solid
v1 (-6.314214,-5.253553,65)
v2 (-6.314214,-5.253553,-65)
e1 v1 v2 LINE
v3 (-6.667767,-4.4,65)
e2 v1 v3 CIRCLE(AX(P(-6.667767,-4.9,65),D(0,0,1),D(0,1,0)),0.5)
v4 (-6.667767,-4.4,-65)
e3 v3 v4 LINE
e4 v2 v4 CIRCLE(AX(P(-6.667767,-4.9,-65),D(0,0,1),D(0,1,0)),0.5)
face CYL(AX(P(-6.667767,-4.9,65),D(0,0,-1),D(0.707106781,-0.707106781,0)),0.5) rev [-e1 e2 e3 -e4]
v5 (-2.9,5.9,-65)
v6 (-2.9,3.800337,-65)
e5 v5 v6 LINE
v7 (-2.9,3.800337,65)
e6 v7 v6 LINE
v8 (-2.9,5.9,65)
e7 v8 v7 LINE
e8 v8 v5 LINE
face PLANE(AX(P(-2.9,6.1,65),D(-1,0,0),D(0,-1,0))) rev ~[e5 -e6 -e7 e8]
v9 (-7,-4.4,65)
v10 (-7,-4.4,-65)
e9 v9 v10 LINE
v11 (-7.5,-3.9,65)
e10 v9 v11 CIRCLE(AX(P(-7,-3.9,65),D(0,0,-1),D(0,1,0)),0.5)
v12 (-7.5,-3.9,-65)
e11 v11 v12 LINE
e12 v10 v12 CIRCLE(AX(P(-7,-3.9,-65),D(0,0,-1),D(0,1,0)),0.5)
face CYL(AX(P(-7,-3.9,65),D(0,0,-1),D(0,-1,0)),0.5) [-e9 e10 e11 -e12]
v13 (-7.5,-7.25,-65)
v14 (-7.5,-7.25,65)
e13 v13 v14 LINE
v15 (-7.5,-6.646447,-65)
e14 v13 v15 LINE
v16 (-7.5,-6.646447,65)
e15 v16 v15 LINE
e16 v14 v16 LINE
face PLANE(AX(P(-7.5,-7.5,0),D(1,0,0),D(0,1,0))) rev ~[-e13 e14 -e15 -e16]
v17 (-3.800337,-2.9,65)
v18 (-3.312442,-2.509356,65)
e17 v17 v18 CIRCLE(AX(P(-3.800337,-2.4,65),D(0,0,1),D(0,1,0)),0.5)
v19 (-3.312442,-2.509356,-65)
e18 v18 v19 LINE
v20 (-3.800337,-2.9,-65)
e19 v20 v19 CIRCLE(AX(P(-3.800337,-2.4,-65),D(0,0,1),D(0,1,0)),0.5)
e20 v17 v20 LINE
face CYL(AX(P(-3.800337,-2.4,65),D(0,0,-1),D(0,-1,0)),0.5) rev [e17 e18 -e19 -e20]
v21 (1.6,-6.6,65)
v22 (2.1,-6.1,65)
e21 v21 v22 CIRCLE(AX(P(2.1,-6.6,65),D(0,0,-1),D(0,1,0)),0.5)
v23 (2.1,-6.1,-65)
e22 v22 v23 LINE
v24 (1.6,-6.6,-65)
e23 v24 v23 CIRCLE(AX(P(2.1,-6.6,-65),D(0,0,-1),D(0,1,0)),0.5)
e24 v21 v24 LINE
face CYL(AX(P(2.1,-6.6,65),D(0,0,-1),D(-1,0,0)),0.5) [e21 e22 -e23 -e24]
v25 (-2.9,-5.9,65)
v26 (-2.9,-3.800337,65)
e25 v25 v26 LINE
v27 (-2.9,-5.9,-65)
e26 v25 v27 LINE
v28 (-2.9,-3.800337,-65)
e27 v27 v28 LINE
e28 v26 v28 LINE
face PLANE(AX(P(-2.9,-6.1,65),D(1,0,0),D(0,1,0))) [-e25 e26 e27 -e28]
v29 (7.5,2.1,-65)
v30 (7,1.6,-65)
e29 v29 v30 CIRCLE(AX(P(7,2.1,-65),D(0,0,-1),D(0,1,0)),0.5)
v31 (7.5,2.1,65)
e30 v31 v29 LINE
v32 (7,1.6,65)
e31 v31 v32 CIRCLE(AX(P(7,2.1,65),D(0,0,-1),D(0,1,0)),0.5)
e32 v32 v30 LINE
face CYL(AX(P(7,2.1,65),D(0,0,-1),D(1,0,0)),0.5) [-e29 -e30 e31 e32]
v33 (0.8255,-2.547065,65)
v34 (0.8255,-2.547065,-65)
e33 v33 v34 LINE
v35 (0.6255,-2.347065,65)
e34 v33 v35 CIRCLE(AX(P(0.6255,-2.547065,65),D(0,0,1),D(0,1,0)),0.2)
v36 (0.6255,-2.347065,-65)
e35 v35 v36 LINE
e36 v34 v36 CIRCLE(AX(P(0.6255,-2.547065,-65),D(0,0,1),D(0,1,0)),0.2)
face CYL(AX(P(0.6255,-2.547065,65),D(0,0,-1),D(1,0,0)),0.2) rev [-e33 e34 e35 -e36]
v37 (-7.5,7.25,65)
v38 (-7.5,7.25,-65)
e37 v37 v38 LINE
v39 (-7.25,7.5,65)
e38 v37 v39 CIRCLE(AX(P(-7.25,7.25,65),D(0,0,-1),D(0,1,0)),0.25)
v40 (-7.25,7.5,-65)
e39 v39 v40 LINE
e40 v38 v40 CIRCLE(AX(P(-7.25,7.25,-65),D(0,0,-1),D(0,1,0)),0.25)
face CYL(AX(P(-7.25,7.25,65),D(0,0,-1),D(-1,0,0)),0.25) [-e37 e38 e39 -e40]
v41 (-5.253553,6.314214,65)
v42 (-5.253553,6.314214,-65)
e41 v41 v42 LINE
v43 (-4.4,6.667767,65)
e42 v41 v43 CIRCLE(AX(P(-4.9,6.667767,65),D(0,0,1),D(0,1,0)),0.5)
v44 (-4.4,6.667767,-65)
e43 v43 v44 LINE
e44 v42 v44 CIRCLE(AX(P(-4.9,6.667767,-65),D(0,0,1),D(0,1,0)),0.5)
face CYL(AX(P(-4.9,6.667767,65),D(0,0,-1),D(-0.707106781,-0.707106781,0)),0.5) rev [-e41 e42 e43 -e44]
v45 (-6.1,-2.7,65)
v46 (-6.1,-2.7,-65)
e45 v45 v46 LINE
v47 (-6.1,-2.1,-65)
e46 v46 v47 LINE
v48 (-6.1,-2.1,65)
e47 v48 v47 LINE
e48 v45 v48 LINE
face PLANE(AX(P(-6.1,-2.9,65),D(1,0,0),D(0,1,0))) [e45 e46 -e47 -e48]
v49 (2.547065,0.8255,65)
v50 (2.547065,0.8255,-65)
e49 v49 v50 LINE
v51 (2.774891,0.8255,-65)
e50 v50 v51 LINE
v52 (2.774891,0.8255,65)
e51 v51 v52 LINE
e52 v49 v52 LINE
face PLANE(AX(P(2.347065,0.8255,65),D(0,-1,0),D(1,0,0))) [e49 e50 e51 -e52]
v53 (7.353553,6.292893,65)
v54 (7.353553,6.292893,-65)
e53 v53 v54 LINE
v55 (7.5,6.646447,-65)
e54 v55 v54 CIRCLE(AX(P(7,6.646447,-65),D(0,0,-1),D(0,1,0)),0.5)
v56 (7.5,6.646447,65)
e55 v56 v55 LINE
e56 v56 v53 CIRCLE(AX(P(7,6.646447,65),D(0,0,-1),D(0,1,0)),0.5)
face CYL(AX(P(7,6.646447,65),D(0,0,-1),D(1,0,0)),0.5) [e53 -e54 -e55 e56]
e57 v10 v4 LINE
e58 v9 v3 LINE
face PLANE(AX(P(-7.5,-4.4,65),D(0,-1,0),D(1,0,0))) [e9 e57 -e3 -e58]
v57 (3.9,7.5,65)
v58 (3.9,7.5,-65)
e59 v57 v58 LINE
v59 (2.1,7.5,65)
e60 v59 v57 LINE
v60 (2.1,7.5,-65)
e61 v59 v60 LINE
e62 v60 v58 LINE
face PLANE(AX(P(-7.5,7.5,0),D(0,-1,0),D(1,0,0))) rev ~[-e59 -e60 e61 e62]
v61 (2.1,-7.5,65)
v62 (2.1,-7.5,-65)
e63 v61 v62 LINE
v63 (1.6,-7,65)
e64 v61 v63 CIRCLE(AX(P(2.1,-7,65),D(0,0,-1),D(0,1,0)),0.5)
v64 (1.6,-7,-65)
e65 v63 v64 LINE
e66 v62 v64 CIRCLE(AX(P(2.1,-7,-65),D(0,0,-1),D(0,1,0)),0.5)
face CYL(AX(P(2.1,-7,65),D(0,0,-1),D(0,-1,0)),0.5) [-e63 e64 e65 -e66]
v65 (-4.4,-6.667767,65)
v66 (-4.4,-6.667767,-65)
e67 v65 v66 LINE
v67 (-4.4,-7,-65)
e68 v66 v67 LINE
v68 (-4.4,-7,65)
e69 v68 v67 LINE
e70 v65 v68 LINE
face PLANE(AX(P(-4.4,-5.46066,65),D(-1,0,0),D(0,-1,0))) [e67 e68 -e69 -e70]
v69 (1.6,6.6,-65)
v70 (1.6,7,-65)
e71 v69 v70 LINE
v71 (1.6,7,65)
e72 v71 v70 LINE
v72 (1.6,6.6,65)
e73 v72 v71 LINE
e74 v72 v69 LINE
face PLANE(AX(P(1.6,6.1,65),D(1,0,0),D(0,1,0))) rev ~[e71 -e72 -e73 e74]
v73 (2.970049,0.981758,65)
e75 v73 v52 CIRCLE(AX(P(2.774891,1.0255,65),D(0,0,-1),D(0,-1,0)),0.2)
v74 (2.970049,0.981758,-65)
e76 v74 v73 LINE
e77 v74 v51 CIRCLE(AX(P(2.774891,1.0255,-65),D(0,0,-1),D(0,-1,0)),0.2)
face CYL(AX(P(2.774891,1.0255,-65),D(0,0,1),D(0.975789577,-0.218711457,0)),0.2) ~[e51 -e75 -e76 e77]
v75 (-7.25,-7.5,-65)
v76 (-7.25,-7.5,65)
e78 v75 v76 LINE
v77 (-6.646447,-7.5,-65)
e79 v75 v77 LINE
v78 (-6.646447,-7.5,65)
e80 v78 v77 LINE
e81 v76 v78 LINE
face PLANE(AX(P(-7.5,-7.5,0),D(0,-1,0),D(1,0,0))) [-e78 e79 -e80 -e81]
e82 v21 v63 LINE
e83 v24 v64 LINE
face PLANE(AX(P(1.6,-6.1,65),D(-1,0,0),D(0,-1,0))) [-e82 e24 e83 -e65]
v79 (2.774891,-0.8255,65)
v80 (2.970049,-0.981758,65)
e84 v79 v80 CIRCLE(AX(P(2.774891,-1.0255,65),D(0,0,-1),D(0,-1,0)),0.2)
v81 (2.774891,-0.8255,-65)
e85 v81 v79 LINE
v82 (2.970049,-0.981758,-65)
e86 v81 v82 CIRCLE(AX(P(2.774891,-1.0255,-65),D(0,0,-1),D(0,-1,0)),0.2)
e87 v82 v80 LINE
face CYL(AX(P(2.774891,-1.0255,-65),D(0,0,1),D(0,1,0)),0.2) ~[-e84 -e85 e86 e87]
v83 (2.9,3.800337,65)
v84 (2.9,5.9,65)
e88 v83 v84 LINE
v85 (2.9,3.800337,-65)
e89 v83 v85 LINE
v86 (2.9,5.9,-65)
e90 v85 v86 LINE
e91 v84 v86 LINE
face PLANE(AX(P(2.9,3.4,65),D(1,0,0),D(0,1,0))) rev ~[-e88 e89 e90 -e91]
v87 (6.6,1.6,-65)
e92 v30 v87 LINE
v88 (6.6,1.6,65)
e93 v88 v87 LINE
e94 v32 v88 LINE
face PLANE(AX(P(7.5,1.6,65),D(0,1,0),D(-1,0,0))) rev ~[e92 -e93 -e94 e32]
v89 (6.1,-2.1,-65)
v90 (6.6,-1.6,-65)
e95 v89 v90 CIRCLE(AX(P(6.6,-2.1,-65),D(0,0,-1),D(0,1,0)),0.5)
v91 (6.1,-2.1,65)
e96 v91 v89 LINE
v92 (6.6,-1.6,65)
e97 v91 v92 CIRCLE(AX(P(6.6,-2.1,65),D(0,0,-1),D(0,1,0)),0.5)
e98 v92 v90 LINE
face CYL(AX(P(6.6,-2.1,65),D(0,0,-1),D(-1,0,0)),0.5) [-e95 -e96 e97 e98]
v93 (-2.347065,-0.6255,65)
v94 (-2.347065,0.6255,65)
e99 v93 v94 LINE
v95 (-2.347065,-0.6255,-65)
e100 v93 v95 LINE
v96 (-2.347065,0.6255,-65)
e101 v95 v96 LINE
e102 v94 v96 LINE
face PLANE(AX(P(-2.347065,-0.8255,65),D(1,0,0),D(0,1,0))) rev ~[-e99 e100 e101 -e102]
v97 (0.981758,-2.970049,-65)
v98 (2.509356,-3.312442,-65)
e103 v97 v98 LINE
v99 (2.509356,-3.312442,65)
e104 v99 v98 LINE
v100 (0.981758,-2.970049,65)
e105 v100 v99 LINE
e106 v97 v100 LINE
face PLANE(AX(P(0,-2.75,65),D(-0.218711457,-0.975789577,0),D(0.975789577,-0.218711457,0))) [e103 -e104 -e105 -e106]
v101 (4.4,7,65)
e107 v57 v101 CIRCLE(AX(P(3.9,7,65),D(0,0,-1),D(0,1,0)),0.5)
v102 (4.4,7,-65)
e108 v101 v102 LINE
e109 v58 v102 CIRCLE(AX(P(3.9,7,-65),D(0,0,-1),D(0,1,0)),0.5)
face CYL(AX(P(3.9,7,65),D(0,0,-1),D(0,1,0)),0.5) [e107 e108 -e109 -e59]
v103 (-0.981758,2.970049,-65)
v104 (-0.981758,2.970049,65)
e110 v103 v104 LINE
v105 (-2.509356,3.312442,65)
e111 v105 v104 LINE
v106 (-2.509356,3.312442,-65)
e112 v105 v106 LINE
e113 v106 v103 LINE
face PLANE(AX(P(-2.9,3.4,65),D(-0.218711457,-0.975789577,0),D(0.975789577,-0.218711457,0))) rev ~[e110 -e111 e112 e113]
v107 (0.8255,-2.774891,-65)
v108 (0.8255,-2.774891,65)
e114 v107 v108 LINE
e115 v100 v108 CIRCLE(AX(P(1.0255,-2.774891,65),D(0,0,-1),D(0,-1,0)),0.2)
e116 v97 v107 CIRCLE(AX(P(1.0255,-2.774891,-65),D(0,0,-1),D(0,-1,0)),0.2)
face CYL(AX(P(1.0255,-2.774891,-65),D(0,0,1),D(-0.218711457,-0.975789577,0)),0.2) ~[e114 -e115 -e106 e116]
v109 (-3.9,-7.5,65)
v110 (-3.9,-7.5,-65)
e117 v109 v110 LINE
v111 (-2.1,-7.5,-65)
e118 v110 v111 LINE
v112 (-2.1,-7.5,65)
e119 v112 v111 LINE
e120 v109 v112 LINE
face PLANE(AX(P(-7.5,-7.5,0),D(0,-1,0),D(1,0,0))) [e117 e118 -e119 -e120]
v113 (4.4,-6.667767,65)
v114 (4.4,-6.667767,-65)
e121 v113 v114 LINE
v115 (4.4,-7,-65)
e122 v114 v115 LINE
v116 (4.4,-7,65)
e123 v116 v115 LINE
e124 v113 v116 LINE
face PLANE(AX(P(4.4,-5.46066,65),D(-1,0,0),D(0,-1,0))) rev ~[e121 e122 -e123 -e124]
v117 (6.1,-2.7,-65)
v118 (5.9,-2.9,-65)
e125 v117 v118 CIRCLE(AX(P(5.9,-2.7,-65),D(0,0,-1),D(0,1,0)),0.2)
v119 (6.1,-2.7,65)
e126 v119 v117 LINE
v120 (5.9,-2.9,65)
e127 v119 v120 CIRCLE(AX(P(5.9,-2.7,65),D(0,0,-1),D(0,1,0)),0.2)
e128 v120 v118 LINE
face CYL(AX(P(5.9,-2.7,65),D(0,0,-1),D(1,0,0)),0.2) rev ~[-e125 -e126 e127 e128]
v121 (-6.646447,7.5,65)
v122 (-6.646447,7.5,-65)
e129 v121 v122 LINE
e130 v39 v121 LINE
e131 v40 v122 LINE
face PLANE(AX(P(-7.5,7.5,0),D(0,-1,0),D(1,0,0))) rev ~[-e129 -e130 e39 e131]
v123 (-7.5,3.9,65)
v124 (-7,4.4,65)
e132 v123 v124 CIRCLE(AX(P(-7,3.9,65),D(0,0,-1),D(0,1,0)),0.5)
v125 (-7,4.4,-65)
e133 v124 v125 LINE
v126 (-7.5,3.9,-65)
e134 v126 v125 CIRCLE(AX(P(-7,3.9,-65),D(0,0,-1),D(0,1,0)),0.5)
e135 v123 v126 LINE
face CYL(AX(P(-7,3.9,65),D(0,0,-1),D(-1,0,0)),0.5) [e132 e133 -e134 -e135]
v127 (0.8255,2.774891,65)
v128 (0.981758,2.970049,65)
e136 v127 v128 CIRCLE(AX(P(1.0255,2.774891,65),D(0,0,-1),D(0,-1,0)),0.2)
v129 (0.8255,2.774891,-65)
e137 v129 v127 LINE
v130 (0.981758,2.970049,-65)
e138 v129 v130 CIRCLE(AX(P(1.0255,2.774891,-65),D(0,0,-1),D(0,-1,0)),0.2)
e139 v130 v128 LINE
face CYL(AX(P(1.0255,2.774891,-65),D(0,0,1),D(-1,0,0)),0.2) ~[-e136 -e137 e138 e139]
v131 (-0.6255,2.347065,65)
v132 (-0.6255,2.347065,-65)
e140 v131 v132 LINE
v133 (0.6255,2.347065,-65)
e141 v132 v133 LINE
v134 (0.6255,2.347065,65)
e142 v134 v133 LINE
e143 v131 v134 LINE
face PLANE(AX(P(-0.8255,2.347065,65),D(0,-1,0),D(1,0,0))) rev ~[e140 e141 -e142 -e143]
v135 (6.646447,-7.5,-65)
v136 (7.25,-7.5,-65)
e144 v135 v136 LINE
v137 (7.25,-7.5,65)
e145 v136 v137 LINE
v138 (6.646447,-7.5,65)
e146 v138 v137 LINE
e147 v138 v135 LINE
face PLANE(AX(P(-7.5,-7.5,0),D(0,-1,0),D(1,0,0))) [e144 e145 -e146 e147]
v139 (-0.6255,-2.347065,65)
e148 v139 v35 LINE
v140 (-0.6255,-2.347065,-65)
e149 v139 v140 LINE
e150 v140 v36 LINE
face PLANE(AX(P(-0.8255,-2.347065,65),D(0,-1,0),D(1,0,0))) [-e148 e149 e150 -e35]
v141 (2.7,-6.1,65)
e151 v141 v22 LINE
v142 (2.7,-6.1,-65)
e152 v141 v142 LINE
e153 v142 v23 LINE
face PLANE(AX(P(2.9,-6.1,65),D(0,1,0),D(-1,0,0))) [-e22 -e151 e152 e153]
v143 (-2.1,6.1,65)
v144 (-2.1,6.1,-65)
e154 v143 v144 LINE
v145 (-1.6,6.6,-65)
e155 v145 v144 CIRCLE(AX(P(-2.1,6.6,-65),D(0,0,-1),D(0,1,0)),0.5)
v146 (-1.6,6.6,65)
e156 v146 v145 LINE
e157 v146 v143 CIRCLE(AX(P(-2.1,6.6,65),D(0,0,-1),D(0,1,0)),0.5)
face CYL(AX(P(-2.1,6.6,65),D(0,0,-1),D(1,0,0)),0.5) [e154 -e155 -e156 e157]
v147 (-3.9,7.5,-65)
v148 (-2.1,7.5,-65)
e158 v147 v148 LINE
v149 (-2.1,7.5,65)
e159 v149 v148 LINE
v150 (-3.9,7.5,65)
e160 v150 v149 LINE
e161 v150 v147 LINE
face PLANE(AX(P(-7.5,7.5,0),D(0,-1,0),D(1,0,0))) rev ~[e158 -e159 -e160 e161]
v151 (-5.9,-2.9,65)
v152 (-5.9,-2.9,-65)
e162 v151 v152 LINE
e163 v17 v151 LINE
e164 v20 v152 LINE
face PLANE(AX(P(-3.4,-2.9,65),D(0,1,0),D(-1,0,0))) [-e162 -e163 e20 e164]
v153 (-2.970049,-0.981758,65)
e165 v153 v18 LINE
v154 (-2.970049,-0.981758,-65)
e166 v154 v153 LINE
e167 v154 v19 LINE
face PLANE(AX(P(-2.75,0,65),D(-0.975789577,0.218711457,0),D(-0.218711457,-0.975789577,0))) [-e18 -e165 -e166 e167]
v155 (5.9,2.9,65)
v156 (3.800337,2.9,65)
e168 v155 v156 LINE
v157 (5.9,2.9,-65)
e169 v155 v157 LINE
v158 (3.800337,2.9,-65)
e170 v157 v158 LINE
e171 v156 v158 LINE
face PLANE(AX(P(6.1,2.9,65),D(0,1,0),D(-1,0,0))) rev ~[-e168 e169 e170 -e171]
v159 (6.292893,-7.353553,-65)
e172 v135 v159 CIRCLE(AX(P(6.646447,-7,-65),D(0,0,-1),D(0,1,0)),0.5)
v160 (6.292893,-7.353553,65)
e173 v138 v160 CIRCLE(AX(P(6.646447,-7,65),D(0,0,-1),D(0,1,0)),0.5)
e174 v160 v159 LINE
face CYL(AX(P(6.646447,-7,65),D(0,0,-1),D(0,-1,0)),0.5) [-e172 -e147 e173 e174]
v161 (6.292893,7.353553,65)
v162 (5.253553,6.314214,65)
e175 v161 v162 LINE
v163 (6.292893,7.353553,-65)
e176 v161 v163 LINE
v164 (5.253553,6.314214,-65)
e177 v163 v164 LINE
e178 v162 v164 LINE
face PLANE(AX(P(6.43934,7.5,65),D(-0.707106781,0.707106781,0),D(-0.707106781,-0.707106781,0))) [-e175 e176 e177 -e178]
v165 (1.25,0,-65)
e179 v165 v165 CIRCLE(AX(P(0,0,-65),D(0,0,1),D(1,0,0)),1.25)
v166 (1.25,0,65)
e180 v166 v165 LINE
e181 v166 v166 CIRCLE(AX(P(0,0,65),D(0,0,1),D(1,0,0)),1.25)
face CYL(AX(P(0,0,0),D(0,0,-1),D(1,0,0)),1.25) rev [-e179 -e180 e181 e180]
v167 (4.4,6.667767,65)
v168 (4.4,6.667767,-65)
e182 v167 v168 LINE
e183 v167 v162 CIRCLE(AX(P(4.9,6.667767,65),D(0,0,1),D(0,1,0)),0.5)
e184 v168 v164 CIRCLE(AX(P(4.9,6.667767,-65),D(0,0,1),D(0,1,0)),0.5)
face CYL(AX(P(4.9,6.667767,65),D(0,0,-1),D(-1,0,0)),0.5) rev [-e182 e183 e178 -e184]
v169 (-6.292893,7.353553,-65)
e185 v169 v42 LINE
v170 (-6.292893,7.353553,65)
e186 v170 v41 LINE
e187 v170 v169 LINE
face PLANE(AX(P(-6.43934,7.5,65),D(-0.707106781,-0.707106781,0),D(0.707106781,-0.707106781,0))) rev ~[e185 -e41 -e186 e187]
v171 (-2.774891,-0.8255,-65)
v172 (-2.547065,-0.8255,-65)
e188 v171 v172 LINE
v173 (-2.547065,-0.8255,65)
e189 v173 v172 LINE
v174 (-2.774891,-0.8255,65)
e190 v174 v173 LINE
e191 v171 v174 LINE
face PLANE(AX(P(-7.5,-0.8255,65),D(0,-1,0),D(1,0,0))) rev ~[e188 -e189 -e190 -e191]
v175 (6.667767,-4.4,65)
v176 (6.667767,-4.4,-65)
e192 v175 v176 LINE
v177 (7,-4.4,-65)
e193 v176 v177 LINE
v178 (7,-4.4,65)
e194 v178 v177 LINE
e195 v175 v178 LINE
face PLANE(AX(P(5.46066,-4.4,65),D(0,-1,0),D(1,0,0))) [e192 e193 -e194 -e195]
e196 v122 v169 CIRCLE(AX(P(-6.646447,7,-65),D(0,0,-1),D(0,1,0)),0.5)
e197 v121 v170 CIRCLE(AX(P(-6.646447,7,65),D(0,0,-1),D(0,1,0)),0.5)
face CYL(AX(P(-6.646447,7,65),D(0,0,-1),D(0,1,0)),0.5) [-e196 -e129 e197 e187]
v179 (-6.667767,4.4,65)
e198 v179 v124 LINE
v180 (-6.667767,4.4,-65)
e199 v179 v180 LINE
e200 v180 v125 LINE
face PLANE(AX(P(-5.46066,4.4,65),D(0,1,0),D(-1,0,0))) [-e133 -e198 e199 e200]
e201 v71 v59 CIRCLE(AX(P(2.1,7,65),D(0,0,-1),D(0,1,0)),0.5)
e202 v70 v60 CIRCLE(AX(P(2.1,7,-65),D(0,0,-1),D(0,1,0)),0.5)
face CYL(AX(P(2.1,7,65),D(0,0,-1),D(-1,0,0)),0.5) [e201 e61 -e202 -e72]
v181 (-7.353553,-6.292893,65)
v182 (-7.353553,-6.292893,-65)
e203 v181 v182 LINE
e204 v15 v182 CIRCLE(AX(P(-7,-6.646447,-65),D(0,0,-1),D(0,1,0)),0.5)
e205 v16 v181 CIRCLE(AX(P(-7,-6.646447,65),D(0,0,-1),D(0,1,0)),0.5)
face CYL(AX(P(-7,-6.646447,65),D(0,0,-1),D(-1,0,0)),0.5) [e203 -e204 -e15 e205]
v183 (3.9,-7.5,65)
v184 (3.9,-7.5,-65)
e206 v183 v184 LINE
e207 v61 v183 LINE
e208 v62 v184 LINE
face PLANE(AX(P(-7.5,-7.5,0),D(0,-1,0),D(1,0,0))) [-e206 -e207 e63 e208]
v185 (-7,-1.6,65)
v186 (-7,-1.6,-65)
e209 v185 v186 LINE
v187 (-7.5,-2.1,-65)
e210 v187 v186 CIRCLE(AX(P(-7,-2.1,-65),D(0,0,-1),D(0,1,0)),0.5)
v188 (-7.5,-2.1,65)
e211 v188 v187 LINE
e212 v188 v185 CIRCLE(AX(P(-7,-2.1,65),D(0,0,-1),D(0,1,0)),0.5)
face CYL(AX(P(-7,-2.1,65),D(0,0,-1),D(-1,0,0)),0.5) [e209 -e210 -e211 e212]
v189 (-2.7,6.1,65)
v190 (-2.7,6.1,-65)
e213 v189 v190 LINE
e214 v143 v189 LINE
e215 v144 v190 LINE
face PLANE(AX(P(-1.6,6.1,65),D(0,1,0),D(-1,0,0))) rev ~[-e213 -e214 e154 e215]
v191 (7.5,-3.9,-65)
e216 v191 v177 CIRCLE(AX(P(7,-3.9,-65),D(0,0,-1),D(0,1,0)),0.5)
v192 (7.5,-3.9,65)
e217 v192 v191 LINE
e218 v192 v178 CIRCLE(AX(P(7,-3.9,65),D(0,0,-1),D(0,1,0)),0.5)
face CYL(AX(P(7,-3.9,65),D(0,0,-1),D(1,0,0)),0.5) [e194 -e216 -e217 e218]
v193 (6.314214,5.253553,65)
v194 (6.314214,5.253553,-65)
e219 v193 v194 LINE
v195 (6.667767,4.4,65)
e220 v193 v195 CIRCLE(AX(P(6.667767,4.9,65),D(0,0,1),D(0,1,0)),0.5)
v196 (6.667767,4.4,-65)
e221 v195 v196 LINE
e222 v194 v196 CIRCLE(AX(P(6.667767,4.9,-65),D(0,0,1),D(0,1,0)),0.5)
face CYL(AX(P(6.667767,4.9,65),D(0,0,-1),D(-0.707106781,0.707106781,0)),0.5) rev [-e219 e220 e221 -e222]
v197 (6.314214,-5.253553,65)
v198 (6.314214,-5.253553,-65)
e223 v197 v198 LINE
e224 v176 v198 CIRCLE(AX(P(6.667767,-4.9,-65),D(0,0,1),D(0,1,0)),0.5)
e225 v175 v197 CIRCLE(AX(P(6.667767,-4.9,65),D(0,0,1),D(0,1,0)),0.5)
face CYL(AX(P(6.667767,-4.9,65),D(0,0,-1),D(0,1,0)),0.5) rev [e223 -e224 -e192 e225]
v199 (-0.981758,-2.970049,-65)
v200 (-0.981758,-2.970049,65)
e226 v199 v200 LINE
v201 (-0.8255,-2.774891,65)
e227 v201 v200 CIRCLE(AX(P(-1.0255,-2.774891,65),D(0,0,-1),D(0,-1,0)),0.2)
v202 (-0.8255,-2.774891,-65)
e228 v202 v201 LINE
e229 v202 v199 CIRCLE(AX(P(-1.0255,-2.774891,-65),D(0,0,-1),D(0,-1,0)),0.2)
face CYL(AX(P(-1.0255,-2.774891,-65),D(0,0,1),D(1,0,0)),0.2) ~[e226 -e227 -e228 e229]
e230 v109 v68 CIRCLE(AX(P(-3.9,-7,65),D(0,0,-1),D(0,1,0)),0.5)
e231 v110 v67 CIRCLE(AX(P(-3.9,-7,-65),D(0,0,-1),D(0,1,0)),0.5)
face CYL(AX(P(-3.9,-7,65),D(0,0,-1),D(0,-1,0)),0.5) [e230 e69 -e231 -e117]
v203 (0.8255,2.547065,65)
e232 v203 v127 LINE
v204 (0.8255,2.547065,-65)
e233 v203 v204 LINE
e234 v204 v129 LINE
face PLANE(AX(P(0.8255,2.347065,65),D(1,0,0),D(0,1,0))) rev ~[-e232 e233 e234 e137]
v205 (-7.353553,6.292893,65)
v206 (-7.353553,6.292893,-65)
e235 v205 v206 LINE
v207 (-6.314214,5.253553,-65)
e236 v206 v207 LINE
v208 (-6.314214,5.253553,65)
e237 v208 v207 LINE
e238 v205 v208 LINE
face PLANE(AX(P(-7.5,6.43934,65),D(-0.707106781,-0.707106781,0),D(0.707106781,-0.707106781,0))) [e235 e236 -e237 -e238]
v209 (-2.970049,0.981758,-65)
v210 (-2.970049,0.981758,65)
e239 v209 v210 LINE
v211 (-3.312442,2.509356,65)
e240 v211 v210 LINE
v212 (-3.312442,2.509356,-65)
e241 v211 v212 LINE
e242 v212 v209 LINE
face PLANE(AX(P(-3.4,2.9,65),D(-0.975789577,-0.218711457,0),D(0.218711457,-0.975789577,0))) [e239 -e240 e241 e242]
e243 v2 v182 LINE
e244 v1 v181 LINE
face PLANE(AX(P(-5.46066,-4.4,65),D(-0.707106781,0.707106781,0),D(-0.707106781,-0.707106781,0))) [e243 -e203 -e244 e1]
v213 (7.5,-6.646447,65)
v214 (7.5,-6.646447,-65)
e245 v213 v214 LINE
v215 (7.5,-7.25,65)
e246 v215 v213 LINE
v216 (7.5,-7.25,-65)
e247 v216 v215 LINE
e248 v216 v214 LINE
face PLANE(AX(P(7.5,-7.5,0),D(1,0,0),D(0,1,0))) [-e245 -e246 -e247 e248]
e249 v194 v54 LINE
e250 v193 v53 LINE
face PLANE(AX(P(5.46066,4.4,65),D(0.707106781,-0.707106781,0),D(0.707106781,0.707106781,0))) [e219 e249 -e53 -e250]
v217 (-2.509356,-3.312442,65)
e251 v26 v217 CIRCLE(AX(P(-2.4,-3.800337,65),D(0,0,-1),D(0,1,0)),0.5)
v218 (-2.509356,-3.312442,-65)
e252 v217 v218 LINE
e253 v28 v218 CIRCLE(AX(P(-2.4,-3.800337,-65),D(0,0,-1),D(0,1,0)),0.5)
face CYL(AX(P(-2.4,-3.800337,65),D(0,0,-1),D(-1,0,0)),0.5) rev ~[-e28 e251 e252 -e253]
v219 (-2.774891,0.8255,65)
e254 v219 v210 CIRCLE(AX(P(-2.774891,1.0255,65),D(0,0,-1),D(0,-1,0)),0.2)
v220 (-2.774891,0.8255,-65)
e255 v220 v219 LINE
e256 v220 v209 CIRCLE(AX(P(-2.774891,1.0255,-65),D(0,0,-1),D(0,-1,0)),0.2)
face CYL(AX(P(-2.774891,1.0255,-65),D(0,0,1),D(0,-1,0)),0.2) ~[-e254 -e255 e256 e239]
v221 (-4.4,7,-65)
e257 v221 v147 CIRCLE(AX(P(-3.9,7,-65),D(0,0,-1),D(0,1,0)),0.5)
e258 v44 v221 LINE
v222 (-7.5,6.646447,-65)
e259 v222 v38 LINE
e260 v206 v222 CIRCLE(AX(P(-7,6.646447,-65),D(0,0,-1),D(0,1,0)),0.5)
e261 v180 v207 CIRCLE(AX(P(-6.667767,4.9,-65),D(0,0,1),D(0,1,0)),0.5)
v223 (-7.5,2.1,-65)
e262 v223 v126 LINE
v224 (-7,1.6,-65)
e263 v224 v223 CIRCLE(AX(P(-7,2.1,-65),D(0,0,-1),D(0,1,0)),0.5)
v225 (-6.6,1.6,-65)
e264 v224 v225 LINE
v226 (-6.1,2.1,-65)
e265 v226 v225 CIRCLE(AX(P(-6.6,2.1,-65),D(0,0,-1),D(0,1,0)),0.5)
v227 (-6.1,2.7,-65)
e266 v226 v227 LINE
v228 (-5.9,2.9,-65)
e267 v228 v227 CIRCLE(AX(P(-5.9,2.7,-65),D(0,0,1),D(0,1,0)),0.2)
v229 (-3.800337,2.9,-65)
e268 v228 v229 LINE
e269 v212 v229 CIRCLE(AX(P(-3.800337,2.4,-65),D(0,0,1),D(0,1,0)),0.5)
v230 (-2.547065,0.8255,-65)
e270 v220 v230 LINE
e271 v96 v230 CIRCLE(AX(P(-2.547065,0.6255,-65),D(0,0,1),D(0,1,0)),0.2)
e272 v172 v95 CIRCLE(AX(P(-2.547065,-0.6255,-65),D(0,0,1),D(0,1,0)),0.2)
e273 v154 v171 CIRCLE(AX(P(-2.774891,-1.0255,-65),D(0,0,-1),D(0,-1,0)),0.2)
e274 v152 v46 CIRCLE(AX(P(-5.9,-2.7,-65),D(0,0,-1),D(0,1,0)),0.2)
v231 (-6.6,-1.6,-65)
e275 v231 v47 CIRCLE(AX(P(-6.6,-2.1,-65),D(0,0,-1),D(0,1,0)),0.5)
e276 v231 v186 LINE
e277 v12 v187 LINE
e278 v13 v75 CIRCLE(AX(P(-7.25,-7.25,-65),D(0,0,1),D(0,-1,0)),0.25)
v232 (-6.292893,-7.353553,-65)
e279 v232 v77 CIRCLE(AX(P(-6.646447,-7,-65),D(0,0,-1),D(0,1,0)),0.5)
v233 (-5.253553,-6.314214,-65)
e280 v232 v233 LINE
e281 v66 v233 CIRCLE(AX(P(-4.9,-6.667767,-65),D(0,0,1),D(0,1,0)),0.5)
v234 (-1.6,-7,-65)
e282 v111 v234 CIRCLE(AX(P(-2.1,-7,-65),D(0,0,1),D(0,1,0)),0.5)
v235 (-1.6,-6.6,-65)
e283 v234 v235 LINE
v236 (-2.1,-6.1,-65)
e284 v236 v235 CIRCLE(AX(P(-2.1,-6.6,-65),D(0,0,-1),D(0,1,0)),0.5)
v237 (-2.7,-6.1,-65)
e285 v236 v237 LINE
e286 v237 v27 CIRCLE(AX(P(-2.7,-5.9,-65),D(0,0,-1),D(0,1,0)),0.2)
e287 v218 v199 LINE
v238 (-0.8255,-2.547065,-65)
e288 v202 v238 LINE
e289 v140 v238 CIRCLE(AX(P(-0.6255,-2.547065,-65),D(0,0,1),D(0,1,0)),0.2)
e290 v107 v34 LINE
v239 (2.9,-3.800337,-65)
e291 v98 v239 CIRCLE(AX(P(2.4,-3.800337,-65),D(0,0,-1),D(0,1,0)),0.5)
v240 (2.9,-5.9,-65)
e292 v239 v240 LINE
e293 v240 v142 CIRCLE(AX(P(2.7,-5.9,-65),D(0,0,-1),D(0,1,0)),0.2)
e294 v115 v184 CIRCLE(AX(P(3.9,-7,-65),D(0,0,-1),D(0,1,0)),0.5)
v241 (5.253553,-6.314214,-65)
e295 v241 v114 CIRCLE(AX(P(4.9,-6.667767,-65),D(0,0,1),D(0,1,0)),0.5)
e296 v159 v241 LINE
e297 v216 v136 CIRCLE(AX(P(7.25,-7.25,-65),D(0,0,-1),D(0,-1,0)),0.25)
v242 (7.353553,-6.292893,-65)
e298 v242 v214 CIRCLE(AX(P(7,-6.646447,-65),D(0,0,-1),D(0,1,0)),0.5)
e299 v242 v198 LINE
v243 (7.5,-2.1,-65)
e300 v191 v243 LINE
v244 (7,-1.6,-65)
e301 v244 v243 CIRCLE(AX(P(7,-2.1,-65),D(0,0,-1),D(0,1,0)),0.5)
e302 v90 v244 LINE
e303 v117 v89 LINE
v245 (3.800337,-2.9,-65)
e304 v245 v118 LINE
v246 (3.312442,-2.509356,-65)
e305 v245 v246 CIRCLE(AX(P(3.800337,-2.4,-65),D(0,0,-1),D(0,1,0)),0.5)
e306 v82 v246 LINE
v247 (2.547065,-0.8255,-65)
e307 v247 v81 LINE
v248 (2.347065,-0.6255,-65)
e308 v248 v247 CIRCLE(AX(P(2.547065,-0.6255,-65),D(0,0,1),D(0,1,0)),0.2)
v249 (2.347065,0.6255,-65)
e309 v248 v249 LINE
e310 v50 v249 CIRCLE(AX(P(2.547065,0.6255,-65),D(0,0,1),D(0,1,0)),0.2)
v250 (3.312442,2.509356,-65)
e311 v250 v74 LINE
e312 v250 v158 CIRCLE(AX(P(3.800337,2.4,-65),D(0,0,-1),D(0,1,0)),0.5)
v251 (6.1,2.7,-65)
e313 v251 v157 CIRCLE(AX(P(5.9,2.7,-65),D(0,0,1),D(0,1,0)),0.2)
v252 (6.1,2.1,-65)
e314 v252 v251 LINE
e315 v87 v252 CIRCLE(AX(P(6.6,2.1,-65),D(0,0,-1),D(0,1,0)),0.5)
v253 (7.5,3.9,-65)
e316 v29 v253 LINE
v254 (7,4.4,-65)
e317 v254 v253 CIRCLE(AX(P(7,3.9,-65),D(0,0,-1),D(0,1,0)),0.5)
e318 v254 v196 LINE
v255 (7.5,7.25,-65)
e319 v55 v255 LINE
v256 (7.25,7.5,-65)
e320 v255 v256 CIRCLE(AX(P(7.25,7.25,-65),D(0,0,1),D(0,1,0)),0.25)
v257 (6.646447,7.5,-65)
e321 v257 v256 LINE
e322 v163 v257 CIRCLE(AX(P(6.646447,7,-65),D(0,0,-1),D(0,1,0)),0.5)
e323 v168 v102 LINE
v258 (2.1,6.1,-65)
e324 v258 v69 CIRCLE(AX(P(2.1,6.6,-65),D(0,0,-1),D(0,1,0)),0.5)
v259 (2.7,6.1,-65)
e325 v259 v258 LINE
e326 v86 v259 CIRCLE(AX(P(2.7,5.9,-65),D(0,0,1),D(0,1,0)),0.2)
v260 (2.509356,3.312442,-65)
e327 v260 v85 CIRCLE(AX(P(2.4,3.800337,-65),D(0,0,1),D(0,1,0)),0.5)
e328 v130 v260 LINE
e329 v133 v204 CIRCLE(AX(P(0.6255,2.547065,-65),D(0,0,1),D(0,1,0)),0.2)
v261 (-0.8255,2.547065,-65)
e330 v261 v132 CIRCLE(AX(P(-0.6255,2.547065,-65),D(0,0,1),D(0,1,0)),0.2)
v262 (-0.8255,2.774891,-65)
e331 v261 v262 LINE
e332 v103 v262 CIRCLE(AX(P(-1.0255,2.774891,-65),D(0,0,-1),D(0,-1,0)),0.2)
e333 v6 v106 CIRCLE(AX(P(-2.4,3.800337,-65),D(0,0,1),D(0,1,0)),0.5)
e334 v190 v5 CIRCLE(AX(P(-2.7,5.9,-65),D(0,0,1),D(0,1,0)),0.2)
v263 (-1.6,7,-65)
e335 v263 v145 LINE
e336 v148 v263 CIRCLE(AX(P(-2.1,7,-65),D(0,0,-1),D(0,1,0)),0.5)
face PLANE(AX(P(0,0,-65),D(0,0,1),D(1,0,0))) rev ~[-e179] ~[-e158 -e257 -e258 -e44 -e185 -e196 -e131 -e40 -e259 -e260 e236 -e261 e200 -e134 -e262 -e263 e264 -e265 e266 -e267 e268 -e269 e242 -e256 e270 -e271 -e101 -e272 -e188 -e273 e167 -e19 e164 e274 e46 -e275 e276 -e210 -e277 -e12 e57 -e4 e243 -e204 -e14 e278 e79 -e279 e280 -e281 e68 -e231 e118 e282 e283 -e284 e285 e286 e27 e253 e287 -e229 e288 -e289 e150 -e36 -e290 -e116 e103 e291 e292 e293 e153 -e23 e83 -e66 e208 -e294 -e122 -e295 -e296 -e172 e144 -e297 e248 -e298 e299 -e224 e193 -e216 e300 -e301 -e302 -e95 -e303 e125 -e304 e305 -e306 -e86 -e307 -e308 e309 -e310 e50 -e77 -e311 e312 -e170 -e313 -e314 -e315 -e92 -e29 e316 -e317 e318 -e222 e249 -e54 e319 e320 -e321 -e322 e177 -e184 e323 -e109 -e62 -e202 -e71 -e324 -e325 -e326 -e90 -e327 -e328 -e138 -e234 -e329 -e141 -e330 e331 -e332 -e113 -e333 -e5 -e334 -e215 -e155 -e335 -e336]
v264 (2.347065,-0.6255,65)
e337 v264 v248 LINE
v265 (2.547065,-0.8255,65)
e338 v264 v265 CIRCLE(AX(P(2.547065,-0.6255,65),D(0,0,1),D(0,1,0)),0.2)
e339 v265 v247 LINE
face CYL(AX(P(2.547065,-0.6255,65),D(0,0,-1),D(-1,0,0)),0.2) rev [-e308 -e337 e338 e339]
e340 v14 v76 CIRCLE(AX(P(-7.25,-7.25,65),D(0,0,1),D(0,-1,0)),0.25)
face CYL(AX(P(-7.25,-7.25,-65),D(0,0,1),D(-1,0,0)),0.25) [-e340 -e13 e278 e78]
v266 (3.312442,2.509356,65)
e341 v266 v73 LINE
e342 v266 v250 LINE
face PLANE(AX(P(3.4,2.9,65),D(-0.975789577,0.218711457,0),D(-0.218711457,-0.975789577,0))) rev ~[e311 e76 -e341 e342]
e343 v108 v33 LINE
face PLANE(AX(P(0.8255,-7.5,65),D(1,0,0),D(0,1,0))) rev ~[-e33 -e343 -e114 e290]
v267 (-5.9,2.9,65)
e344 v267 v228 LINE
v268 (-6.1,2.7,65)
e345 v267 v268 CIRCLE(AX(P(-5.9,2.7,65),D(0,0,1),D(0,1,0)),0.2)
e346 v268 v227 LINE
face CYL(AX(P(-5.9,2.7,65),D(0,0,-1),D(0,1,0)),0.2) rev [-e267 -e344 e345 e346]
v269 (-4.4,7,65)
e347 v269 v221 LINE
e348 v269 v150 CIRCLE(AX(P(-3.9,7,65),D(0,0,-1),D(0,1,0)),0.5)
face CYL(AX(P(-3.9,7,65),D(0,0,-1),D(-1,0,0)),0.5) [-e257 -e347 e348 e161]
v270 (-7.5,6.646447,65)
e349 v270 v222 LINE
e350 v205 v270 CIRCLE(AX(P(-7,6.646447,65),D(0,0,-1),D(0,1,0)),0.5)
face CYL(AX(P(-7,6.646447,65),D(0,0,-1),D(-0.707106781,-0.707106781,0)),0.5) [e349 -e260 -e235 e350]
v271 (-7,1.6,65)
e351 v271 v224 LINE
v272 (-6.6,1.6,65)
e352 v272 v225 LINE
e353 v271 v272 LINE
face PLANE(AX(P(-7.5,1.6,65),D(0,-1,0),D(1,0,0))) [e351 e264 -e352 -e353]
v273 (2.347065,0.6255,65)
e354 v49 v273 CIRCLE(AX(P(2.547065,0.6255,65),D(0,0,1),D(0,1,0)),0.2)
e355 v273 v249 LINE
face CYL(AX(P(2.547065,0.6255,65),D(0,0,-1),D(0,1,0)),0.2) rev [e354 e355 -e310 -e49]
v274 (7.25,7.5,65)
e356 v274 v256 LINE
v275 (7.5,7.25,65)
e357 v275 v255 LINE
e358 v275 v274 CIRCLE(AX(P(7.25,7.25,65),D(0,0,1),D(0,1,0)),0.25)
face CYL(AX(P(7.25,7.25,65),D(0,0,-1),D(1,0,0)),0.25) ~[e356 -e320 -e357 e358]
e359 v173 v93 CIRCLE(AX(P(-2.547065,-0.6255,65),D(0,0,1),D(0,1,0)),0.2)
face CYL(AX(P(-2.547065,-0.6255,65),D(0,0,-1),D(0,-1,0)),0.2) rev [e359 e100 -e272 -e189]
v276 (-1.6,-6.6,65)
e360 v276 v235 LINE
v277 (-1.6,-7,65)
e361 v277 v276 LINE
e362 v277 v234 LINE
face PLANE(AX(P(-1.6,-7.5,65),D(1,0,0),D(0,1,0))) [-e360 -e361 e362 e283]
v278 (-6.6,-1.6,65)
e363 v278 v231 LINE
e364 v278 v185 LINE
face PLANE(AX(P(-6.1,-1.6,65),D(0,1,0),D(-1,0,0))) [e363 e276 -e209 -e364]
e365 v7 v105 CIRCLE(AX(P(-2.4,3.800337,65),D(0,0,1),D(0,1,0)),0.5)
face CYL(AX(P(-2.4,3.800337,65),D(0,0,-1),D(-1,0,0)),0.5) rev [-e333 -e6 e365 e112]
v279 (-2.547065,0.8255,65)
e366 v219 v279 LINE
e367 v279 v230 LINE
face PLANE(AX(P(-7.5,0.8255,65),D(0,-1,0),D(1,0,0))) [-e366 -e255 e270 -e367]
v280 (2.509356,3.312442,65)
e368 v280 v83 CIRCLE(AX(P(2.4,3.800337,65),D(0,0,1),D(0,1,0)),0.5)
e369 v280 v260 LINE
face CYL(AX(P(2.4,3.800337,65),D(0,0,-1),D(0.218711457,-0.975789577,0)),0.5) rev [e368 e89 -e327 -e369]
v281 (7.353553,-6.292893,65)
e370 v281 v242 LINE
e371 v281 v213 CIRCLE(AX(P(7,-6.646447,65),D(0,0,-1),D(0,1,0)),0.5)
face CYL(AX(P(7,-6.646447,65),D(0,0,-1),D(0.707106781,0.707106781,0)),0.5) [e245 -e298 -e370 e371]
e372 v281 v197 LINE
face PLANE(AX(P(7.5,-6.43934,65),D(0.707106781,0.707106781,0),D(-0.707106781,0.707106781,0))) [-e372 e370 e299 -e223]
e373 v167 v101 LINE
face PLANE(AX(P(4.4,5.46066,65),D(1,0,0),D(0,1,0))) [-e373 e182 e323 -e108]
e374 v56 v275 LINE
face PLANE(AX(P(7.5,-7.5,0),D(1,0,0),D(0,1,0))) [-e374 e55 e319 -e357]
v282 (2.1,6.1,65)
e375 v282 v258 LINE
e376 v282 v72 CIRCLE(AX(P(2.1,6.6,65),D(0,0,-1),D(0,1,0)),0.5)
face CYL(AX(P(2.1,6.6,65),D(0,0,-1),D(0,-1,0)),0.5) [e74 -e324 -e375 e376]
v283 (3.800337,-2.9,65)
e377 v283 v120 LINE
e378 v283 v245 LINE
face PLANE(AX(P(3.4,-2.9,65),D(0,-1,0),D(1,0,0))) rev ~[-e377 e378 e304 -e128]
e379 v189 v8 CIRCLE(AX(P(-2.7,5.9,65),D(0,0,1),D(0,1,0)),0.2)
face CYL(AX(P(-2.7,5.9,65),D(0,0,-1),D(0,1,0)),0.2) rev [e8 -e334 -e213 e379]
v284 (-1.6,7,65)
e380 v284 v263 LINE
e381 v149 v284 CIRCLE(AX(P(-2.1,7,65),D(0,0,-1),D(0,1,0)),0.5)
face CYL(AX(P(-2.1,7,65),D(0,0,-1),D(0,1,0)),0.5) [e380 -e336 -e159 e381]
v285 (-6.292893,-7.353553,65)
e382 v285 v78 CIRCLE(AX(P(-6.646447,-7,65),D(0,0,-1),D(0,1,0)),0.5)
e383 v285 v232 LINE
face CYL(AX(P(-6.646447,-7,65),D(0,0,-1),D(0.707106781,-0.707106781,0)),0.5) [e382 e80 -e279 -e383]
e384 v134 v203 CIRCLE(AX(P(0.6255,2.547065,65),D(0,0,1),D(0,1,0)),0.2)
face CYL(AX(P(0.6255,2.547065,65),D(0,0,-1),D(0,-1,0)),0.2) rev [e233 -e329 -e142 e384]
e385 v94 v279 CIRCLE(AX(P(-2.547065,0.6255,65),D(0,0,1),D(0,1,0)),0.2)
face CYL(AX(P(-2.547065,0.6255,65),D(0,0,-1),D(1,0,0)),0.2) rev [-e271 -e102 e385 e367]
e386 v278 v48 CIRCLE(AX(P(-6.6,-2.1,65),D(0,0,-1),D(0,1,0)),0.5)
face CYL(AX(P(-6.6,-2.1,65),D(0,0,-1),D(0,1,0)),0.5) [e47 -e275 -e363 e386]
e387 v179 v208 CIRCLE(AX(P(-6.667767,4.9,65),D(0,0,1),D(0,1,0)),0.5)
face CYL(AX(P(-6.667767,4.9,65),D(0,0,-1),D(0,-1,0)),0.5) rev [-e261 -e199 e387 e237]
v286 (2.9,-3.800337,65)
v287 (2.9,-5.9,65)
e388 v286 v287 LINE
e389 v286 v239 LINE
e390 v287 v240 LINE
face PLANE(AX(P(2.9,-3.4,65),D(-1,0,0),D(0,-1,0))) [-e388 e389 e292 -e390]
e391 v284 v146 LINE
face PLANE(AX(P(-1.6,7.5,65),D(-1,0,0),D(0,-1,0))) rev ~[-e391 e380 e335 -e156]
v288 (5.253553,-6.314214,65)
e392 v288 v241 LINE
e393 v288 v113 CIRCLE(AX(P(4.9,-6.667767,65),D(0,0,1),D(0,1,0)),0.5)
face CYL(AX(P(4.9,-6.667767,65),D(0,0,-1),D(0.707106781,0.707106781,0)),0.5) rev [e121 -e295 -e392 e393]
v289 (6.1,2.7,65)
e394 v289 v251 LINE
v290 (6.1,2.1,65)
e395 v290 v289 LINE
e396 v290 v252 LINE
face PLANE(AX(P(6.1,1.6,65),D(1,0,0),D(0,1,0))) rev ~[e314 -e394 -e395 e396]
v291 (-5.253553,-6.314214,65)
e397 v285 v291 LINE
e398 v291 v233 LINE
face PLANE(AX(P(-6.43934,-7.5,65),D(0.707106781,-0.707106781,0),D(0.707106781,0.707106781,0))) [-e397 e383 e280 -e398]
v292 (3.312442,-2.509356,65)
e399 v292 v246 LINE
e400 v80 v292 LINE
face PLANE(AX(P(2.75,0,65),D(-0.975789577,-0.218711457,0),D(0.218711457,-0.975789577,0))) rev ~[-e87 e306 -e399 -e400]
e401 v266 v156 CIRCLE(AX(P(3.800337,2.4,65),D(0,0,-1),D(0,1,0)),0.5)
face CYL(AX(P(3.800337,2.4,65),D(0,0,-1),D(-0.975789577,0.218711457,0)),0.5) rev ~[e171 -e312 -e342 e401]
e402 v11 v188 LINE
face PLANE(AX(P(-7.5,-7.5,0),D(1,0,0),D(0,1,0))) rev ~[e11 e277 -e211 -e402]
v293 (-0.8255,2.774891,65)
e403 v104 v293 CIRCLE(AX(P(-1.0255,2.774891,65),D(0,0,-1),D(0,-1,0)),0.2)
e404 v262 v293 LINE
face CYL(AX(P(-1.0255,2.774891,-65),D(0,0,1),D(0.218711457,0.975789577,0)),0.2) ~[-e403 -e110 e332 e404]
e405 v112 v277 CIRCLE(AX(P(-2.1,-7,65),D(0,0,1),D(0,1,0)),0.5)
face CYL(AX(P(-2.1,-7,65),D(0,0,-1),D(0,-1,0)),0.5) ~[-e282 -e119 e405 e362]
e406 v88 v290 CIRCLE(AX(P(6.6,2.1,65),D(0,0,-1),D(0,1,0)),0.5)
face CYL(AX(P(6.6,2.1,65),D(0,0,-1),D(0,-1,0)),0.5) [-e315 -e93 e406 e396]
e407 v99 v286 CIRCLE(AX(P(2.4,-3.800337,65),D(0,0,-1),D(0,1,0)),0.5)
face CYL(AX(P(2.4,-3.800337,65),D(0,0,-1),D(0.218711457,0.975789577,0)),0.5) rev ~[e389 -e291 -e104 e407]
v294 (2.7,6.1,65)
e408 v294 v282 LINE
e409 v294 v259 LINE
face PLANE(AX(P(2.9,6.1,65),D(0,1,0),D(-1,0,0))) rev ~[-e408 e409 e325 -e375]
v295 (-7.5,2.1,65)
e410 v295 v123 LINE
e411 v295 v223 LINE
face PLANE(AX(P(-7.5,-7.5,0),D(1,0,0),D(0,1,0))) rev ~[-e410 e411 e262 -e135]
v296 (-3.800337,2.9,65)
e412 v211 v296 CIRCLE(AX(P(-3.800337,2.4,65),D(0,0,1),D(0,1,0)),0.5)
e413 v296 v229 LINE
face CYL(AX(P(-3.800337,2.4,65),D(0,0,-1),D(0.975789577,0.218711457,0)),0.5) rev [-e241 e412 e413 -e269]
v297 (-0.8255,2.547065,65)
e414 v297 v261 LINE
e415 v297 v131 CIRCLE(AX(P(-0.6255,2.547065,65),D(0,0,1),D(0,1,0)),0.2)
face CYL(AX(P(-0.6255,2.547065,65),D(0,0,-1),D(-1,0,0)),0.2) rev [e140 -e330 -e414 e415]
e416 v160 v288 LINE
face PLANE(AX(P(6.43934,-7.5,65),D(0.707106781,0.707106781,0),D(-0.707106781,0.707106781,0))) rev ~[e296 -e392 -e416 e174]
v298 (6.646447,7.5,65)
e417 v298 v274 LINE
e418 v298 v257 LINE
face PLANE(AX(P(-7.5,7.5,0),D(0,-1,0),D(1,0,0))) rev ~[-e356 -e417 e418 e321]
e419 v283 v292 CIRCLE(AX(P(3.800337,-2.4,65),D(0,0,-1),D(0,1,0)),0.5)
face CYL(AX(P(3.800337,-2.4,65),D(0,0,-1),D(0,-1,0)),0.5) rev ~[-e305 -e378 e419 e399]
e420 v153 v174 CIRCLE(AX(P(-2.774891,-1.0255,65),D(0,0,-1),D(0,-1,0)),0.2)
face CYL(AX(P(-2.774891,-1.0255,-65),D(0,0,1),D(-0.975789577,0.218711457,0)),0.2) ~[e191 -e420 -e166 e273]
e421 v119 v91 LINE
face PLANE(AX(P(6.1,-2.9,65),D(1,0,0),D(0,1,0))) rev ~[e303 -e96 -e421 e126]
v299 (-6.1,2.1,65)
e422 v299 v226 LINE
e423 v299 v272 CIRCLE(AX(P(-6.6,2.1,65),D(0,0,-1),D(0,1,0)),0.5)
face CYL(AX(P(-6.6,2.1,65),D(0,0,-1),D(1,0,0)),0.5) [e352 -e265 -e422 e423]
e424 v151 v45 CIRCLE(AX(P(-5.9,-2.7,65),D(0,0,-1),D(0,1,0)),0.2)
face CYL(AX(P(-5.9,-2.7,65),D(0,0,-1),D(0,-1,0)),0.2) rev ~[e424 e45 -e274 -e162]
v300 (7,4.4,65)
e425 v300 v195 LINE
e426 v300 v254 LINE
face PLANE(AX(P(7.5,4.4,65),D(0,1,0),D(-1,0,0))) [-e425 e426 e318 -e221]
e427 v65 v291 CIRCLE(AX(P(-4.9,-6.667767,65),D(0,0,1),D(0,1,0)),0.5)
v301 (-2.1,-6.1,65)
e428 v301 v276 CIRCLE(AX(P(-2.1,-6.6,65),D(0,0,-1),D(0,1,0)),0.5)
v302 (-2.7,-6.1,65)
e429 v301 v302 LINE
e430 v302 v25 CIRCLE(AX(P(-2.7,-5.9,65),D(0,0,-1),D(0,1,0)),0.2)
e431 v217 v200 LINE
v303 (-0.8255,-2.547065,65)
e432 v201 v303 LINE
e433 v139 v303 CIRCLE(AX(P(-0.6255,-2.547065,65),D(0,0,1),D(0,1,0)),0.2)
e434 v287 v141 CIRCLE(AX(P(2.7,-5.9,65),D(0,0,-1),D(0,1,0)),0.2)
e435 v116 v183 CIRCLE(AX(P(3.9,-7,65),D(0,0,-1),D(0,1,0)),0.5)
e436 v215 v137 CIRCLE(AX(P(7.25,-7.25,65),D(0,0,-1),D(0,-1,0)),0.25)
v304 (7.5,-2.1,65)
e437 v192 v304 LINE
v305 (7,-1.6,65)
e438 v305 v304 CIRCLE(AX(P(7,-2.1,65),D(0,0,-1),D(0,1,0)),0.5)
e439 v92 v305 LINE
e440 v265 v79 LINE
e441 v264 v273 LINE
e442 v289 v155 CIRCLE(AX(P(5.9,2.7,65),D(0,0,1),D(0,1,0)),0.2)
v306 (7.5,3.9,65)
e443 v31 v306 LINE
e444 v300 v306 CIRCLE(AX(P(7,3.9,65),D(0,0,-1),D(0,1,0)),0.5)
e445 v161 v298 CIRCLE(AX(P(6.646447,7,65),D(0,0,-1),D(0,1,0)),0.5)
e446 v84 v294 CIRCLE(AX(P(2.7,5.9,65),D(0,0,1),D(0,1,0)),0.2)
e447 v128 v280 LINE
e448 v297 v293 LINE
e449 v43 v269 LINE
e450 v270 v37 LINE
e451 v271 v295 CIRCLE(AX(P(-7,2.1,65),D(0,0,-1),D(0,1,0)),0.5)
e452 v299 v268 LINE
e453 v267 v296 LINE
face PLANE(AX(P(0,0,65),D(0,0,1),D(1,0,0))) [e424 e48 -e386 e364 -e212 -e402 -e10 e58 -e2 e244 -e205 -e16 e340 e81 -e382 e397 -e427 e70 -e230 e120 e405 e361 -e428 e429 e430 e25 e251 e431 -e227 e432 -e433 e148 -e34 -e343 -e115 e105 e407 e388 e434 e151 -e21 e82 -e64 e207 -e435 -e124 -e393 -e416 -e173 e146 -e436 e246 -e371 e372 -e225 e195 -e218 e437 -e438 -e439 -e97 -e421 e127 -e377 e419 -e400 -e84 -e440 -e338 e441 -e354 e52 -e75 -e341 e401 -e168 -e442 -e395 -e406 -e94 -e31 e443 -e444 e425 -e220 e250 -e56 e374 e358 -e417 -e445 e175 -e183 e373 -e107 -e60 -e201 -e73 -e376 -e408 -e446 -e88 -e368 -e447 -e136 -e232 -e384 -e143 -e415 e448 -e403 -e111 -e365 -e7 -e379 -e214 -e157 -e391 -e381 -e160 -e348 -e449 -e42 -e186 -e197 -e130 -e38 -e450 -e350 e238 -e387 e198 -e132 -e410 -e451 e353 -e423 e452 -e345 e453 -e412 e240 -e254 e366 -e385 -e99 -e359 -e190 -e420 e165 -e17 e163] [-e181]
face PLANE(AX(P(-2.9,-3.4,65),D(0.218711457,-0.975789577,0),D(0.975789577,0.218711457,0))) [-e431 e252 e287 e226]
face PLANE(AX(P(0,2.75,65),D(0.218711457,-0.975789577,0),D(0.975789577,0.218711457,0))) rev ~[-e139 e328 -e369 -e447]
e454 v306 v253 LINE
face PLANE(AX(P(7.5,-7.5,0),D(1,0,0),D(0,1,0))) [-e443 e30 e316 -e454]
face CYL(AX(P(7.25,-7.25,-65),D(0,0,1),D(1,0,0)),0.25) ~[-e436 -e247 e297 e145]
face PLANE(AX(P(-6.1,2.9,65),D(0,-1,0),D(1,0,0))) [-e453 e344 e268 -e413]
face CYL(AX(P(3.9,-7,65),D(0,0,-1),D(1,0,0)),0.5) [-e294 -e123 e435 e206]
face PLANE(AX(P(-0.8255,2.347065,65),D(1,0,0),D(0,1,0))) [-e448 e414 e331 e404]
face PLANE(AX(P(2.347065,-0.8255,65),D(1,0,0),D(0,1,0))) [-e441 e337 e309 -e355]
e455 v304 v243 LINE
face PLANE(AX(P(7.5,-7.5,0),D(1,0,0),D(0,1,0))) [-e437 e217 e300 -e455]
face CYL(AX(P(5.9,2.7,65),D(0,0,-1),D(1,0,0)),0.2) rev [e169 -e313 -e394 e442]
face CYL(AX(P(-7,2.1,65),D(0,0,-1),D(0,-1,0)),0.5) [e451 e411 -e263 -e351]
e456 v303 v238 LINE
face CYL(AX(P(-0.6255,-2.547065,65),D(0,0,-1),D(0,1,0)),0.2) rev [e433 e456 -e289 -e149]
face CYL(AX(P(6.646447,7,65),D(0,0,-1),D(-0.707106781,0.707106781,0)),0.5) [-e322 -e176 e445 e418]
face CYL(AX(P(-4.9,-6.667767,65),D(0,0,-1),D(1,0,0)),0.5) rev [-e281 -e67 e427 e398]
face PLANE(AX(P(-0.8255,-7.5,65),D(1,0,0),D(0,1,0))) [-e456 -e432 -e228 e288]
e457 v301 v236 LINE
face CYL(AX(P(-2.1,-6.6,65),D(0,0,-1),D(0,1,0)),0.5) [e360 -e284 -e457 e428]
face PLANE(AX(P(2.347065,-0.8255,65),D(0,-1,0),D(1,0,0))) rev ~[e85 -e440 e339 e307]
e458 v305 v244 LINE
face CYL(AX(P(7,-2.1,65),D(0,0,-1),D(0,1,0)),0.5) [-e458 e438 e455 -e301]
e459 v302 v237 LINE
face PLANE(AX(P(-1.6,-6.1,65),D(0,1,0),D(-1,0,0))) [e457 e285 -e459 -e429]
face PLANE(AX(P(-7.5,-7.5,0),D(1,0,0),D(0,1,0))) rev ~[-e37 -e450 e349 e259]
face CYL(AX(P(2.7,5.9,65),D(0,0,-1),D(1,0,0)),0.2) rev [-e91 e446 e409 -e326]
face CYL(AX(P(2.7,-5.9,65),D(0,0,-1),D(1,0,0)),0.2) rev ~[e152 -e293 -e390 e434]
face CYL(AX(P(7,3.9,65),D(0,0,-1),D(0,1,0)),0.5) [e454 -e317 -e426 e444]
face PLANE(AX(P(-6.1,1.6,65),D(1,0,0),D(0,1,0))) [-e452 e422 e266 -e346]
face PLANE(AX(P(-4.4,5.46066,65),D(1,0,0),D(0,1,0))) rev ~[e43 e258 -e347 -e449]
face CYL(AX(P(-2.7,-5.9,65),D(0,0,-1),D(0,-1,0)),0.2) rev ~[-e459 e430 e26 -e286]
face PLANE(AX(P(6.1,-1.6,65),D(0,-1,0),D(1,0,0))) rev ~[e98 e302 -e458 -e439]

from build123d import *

# Parameters (mm, degrees)
SKETCH1_W           = 15
SKETCH1_H           = 15
SKETCH1_R           = 1.25
BOSS_EXTRUDE1_DEPTH = 65
FILLET1_R           = 0.25
CUT_EXTRUDE1_DEPTH  = 131.431974607
CUT_EXTRUDE3_DEPTH  = 131.431974607
FILLET3_R           = 0.5
FILLET4_R           = 0.5
FILLET5_R           = 3
FILLET6_R           = 0.2
CUT_EXTRUDE4_DEPTH  = 131.431974607
FILLET8_R           = 0.5
SKETCH6_W           = 5.1529354
SKETCH6_H           = 1.651
SKETCH6_W_2         = 1.651
SKETCH6_H_2         = 5.1529354
CUT_EXTRUDE5_DEPTH  = 131.431974607
FILLET10_R          = 0.2


with BuildPart() as part:
    # Sketch1 → Boss-Extrude1 (new, symmetric)
    with BuildSketch(Plane.XY):
        Rectangle(SKETCH1_W, SKETCH1_H)
        Circle(SKETCH1_R, mode=Mode.SUBTRACT)
    extrude(amount=BOSS_EXTRUDE1_DEPTH, both=True)

    # Fillet1
    fillet1_edges = [part.edges().sort_by_distance(p)[0] for p in [
        (7.5, -7.5, 0),
        (-7.5, -7.5, 0),
        (-7.5, 7.5, 0),
        (7.5, 7.5, 0),
    ]]
    fillet(fillet1_edges, radius=FILLET1_R)

    # Sketch2 → Cut-Extrude1 (cut, through all)
    with BuildSketch(Plane.XY.offset(65)):
        Polygon((-7.5, 1.6), (-6.1, 1.6), (-6.1, 2.9), (-3.4, 2.9), (-3.4, -2.9), (-6.1, -2.9), (-6.1, -1.6), (-7.5, -1.6), align=None)
        Polygon((2.9, 6.1), (1.6, 6.1), (1.6, 7.5), (-1.6, 7.5), (-1.6, 6.1), (-2.9, 6.1), (-2.9, 3.4), (2.9, 3.4), align=None)
        Polygon((-1.6, -7.5), (-1.6, -6.1), (-2.9, -6.1), (-2.9, -3.4), (2.9, -3.4), (2.9, -6.1), (1.6, -6.1), (1.6, -7.5), align=None)
        Polygon((6.1, -2.9), (6.1, -1.6), (7.5, -1.6), (7.5, 1.6), (6.1, 1.6), (6.1, 2.9), (3.4, 2.9), (3.4, -2.9), align=None)
    extrude(amount=-CUT_EXTRUDE1_DEPTH, mode=Mode.SUBTRACT)

    # Sketch4 → Cut-Extrude3 (cut, through all)
    with BuildSketch(Plane.XY.offset(65)):
        Polygon((-3.4, 2.9), (-2.75, 0), (-3.4, -2.9), align=None)
        Polygon((-2.9, 3.4), (0, 2.75), (2.9, 3.4), align=None)
        Polygon((3.4, 2.9), (2.75, 0), (3.4, -2.9), align=None)
        Polygon((-2.9, -3.4), (0, -2.75), (2.9, -3.4), align=None)
    extrude(amount=-CUT_EXTRUDE3_DEPTH, mode=Mode.SUBTRACT)

    # Fillet3
    fillet3_edges = [part.edges().sort_by_distance(p)[0] for p in [
        (1.6, -7.5, 0),
        (-1.6, -7.5, 0),
        (-1.6, -6.1, 0),
        (1.6, -6.1, 0),
        (6.1, 1.6, 0),
        (7.5, 1.6, 0),
        (7.5, -1.6, 0),
        (6.1, -1.6, 0),
        (-7.5, -1.6, 0),
        (-7.5, 1.6, 0),
        (-6.1, 1.6, 0),
        (-6.1, -1.6, 0),
        (-1.6, 6.1, 0),
        (-1.6, 7.5, 0),
        (1.6, 7.5, 0),
        (1.6, 6.1, 0),
    ]]
    fillet(fillet3_edges, radius=FILLET3_R)

    # Fillet4
    fillet4_edges = [part.edges().sort_by_distance(p)[0] for p in [
        (-2.9, -3.4, 0),
        (2.9, -3.4, 0),
        (3.4, -2.9, 0),
        (3.4, 2.9, 0),
        (-3.4, 2.9, 0),
        (-3.4, -2.9, 0),
        (2.9, 3.4, 0),
        (-2.9, 3.4, 0),
    ]]
    fillet(fillet4_edges, radius=FILLET4_R)

    # Fillet5
    fillet5_edges = [part.edges().sort_by_distance(p)[0] for p in [
        (-2.75, 0, 0),
        (0, 2.75, 0),
        (2.75, 0, 0),
        (0, -2.75, 0),
    ]]
    fillet(fillet5_edges, radius=FILLET5_R)

    # Fillet6
    fillet6_edges = [part.edges().sort_by_distance(p)[0] for p in [
        (-2.9, -6.1, 0),
        (2.9, -6.1, 0),
        (6.1, -2.9, 0),
        (6.1, 2.9, 0),
        (-6.1, 2.9, 0),
        (-6.1, -2.9, 0),
        (2.9, 6.1, 0),
        (-2.9, 6.1, 0),
    ]]
    fillet(fillet6_edges, radius=FILLET6_R)

    # Sketch5 → Cut-Extrude4 (cut, through all)
    with BuildSketch(Plane.XY.offset(65)):
        Polygon((-7.5, 6.439339828), (-5.460660172, 4.4), (-7.5, 4.4), align=None)
        Polygon((-6.439339828, 7.5), (-4.4, 5.460660172), (-4.4, 7.5), align=None)
        Polygon((4.4, 7.5), (6.439339828, 7.5), (4.4, 5.460660172), align=None)
        Polygon((7.5, 6.439339828), (7.5, 4.4), (5.460660172, 4.4), align=None)
        Polygon((7.5, -6.439339828), (5.460660172, -4.4), (7.5, -4.4), align=None)
        Polygon((6.439339828, -7.5), (4.4, -5.460660172), (4.4, -7.5), align=None)
        Polygon((-4.4, -7.5), (-6.439339828, -7.5), (-4.4, -5.460660172), align=None)
        Polygon((-7.5, -6.439339828), (-7.5, -4.4), (-5.460660172, -4.4), align=None)
    extrude(amount=-CUT_EXTRUDE4_DEPTH, mode=Mode.SUBTRACT)

    # Fillet8
    fillet8_edges = [part.edges().sort_by_distance(p)[0] for p in [
        (-7.5, 4.4, 0),
        (-7.5, 6.439339828, 0),
        (-5.460660172, 4.4, 0),
        (7.5, -4.4, 0),
        (7.5, -6.439339828, 0),
        (5.460660172, -4.4, 0),
        (5.460660172, 4.4, 0),
        (7.5, 6.439339828, 0),
        (7.5, 4.4, 0),
        (-4.4, 7.5, 0),
        (-4.4, 5.460660172, 0),
        (-6.439339828, 7.5, 0),
        (-5.460660172, -4.4, 0),
        (-7.5, -6.439339828, 0),
        (-7.5, -4.4, 0),
        (4.4, 5.460660172, 0),
        (4.4, 7.5, 0),
        (6.439339828, 7.5, 0),
        (6.439339828, -7.5, 0),
        (4.4, -7.5, 0),
        (4.4, -5.460660172, 0),
        (-6.439339828, -7.5, 0),
        (-4.4, -5.460660172, 0),
        (-4.4, -7.5, 0),
    ]]
    fillet(fillet8_edges, radius=FILLET8_R)

    # Sketch6 → Cut-Extrude5 (cut, through all)
    with BuildSketch(Plane.XY.offset(65)):
        with Locations((4.9235323, 0)):
            Rectangle(SKETCH6_W, SKETCH6_H)
        with Locations((0, -4.9235323)):
            Rectangle(SKETCH6_W_2, SKETCH6_H_2)
        with Locations((-4.9235323, 0)):
            Rectangle(SKETCH6_W, SKETCH6_H)
        with Locations((0, 4.9235323)):
            Rectangle(SKETCH6_W_2, SKETCH6_H_2)
    extrude(amount=-CUT_EXTRUDE5_DEPTH, mode=Mode.SUBTRACT)

    # Fillet10
    fillet10_edges = [part.edges().sort_by_distance(p)[0] for p in [
        (0.8255, -2.935025862, 0),
        (-0.8255, -2.935025862, 0),
        (0.8255, -2.3470646, 0),
        (-0.8255, -2.3470646, 0),
        (2.935025862, 0.8255, 0),
        (2.935025862, -0.8255, 0),
        (2.3470646, 0.8255, 0),
        (2.3470646, -0.8255, 0),
        (-2.935025862, -0.8255, 0),
        (-2.935025862, 0.8255, 0),
        (-2.3470646, -0.8255, 0),
        (-2.3470646, 0.8255, 0),
        (-0.8255, 2.935025862, 0),
        (0.8255, 2.935025862, 0),
        (-0.8255, 2.3470646, 0),
        (0.8255, 2.3470646, 0),
    ]]
    fillet(fillet10_edges, radius=FILLET10_R)


solid = part.part
